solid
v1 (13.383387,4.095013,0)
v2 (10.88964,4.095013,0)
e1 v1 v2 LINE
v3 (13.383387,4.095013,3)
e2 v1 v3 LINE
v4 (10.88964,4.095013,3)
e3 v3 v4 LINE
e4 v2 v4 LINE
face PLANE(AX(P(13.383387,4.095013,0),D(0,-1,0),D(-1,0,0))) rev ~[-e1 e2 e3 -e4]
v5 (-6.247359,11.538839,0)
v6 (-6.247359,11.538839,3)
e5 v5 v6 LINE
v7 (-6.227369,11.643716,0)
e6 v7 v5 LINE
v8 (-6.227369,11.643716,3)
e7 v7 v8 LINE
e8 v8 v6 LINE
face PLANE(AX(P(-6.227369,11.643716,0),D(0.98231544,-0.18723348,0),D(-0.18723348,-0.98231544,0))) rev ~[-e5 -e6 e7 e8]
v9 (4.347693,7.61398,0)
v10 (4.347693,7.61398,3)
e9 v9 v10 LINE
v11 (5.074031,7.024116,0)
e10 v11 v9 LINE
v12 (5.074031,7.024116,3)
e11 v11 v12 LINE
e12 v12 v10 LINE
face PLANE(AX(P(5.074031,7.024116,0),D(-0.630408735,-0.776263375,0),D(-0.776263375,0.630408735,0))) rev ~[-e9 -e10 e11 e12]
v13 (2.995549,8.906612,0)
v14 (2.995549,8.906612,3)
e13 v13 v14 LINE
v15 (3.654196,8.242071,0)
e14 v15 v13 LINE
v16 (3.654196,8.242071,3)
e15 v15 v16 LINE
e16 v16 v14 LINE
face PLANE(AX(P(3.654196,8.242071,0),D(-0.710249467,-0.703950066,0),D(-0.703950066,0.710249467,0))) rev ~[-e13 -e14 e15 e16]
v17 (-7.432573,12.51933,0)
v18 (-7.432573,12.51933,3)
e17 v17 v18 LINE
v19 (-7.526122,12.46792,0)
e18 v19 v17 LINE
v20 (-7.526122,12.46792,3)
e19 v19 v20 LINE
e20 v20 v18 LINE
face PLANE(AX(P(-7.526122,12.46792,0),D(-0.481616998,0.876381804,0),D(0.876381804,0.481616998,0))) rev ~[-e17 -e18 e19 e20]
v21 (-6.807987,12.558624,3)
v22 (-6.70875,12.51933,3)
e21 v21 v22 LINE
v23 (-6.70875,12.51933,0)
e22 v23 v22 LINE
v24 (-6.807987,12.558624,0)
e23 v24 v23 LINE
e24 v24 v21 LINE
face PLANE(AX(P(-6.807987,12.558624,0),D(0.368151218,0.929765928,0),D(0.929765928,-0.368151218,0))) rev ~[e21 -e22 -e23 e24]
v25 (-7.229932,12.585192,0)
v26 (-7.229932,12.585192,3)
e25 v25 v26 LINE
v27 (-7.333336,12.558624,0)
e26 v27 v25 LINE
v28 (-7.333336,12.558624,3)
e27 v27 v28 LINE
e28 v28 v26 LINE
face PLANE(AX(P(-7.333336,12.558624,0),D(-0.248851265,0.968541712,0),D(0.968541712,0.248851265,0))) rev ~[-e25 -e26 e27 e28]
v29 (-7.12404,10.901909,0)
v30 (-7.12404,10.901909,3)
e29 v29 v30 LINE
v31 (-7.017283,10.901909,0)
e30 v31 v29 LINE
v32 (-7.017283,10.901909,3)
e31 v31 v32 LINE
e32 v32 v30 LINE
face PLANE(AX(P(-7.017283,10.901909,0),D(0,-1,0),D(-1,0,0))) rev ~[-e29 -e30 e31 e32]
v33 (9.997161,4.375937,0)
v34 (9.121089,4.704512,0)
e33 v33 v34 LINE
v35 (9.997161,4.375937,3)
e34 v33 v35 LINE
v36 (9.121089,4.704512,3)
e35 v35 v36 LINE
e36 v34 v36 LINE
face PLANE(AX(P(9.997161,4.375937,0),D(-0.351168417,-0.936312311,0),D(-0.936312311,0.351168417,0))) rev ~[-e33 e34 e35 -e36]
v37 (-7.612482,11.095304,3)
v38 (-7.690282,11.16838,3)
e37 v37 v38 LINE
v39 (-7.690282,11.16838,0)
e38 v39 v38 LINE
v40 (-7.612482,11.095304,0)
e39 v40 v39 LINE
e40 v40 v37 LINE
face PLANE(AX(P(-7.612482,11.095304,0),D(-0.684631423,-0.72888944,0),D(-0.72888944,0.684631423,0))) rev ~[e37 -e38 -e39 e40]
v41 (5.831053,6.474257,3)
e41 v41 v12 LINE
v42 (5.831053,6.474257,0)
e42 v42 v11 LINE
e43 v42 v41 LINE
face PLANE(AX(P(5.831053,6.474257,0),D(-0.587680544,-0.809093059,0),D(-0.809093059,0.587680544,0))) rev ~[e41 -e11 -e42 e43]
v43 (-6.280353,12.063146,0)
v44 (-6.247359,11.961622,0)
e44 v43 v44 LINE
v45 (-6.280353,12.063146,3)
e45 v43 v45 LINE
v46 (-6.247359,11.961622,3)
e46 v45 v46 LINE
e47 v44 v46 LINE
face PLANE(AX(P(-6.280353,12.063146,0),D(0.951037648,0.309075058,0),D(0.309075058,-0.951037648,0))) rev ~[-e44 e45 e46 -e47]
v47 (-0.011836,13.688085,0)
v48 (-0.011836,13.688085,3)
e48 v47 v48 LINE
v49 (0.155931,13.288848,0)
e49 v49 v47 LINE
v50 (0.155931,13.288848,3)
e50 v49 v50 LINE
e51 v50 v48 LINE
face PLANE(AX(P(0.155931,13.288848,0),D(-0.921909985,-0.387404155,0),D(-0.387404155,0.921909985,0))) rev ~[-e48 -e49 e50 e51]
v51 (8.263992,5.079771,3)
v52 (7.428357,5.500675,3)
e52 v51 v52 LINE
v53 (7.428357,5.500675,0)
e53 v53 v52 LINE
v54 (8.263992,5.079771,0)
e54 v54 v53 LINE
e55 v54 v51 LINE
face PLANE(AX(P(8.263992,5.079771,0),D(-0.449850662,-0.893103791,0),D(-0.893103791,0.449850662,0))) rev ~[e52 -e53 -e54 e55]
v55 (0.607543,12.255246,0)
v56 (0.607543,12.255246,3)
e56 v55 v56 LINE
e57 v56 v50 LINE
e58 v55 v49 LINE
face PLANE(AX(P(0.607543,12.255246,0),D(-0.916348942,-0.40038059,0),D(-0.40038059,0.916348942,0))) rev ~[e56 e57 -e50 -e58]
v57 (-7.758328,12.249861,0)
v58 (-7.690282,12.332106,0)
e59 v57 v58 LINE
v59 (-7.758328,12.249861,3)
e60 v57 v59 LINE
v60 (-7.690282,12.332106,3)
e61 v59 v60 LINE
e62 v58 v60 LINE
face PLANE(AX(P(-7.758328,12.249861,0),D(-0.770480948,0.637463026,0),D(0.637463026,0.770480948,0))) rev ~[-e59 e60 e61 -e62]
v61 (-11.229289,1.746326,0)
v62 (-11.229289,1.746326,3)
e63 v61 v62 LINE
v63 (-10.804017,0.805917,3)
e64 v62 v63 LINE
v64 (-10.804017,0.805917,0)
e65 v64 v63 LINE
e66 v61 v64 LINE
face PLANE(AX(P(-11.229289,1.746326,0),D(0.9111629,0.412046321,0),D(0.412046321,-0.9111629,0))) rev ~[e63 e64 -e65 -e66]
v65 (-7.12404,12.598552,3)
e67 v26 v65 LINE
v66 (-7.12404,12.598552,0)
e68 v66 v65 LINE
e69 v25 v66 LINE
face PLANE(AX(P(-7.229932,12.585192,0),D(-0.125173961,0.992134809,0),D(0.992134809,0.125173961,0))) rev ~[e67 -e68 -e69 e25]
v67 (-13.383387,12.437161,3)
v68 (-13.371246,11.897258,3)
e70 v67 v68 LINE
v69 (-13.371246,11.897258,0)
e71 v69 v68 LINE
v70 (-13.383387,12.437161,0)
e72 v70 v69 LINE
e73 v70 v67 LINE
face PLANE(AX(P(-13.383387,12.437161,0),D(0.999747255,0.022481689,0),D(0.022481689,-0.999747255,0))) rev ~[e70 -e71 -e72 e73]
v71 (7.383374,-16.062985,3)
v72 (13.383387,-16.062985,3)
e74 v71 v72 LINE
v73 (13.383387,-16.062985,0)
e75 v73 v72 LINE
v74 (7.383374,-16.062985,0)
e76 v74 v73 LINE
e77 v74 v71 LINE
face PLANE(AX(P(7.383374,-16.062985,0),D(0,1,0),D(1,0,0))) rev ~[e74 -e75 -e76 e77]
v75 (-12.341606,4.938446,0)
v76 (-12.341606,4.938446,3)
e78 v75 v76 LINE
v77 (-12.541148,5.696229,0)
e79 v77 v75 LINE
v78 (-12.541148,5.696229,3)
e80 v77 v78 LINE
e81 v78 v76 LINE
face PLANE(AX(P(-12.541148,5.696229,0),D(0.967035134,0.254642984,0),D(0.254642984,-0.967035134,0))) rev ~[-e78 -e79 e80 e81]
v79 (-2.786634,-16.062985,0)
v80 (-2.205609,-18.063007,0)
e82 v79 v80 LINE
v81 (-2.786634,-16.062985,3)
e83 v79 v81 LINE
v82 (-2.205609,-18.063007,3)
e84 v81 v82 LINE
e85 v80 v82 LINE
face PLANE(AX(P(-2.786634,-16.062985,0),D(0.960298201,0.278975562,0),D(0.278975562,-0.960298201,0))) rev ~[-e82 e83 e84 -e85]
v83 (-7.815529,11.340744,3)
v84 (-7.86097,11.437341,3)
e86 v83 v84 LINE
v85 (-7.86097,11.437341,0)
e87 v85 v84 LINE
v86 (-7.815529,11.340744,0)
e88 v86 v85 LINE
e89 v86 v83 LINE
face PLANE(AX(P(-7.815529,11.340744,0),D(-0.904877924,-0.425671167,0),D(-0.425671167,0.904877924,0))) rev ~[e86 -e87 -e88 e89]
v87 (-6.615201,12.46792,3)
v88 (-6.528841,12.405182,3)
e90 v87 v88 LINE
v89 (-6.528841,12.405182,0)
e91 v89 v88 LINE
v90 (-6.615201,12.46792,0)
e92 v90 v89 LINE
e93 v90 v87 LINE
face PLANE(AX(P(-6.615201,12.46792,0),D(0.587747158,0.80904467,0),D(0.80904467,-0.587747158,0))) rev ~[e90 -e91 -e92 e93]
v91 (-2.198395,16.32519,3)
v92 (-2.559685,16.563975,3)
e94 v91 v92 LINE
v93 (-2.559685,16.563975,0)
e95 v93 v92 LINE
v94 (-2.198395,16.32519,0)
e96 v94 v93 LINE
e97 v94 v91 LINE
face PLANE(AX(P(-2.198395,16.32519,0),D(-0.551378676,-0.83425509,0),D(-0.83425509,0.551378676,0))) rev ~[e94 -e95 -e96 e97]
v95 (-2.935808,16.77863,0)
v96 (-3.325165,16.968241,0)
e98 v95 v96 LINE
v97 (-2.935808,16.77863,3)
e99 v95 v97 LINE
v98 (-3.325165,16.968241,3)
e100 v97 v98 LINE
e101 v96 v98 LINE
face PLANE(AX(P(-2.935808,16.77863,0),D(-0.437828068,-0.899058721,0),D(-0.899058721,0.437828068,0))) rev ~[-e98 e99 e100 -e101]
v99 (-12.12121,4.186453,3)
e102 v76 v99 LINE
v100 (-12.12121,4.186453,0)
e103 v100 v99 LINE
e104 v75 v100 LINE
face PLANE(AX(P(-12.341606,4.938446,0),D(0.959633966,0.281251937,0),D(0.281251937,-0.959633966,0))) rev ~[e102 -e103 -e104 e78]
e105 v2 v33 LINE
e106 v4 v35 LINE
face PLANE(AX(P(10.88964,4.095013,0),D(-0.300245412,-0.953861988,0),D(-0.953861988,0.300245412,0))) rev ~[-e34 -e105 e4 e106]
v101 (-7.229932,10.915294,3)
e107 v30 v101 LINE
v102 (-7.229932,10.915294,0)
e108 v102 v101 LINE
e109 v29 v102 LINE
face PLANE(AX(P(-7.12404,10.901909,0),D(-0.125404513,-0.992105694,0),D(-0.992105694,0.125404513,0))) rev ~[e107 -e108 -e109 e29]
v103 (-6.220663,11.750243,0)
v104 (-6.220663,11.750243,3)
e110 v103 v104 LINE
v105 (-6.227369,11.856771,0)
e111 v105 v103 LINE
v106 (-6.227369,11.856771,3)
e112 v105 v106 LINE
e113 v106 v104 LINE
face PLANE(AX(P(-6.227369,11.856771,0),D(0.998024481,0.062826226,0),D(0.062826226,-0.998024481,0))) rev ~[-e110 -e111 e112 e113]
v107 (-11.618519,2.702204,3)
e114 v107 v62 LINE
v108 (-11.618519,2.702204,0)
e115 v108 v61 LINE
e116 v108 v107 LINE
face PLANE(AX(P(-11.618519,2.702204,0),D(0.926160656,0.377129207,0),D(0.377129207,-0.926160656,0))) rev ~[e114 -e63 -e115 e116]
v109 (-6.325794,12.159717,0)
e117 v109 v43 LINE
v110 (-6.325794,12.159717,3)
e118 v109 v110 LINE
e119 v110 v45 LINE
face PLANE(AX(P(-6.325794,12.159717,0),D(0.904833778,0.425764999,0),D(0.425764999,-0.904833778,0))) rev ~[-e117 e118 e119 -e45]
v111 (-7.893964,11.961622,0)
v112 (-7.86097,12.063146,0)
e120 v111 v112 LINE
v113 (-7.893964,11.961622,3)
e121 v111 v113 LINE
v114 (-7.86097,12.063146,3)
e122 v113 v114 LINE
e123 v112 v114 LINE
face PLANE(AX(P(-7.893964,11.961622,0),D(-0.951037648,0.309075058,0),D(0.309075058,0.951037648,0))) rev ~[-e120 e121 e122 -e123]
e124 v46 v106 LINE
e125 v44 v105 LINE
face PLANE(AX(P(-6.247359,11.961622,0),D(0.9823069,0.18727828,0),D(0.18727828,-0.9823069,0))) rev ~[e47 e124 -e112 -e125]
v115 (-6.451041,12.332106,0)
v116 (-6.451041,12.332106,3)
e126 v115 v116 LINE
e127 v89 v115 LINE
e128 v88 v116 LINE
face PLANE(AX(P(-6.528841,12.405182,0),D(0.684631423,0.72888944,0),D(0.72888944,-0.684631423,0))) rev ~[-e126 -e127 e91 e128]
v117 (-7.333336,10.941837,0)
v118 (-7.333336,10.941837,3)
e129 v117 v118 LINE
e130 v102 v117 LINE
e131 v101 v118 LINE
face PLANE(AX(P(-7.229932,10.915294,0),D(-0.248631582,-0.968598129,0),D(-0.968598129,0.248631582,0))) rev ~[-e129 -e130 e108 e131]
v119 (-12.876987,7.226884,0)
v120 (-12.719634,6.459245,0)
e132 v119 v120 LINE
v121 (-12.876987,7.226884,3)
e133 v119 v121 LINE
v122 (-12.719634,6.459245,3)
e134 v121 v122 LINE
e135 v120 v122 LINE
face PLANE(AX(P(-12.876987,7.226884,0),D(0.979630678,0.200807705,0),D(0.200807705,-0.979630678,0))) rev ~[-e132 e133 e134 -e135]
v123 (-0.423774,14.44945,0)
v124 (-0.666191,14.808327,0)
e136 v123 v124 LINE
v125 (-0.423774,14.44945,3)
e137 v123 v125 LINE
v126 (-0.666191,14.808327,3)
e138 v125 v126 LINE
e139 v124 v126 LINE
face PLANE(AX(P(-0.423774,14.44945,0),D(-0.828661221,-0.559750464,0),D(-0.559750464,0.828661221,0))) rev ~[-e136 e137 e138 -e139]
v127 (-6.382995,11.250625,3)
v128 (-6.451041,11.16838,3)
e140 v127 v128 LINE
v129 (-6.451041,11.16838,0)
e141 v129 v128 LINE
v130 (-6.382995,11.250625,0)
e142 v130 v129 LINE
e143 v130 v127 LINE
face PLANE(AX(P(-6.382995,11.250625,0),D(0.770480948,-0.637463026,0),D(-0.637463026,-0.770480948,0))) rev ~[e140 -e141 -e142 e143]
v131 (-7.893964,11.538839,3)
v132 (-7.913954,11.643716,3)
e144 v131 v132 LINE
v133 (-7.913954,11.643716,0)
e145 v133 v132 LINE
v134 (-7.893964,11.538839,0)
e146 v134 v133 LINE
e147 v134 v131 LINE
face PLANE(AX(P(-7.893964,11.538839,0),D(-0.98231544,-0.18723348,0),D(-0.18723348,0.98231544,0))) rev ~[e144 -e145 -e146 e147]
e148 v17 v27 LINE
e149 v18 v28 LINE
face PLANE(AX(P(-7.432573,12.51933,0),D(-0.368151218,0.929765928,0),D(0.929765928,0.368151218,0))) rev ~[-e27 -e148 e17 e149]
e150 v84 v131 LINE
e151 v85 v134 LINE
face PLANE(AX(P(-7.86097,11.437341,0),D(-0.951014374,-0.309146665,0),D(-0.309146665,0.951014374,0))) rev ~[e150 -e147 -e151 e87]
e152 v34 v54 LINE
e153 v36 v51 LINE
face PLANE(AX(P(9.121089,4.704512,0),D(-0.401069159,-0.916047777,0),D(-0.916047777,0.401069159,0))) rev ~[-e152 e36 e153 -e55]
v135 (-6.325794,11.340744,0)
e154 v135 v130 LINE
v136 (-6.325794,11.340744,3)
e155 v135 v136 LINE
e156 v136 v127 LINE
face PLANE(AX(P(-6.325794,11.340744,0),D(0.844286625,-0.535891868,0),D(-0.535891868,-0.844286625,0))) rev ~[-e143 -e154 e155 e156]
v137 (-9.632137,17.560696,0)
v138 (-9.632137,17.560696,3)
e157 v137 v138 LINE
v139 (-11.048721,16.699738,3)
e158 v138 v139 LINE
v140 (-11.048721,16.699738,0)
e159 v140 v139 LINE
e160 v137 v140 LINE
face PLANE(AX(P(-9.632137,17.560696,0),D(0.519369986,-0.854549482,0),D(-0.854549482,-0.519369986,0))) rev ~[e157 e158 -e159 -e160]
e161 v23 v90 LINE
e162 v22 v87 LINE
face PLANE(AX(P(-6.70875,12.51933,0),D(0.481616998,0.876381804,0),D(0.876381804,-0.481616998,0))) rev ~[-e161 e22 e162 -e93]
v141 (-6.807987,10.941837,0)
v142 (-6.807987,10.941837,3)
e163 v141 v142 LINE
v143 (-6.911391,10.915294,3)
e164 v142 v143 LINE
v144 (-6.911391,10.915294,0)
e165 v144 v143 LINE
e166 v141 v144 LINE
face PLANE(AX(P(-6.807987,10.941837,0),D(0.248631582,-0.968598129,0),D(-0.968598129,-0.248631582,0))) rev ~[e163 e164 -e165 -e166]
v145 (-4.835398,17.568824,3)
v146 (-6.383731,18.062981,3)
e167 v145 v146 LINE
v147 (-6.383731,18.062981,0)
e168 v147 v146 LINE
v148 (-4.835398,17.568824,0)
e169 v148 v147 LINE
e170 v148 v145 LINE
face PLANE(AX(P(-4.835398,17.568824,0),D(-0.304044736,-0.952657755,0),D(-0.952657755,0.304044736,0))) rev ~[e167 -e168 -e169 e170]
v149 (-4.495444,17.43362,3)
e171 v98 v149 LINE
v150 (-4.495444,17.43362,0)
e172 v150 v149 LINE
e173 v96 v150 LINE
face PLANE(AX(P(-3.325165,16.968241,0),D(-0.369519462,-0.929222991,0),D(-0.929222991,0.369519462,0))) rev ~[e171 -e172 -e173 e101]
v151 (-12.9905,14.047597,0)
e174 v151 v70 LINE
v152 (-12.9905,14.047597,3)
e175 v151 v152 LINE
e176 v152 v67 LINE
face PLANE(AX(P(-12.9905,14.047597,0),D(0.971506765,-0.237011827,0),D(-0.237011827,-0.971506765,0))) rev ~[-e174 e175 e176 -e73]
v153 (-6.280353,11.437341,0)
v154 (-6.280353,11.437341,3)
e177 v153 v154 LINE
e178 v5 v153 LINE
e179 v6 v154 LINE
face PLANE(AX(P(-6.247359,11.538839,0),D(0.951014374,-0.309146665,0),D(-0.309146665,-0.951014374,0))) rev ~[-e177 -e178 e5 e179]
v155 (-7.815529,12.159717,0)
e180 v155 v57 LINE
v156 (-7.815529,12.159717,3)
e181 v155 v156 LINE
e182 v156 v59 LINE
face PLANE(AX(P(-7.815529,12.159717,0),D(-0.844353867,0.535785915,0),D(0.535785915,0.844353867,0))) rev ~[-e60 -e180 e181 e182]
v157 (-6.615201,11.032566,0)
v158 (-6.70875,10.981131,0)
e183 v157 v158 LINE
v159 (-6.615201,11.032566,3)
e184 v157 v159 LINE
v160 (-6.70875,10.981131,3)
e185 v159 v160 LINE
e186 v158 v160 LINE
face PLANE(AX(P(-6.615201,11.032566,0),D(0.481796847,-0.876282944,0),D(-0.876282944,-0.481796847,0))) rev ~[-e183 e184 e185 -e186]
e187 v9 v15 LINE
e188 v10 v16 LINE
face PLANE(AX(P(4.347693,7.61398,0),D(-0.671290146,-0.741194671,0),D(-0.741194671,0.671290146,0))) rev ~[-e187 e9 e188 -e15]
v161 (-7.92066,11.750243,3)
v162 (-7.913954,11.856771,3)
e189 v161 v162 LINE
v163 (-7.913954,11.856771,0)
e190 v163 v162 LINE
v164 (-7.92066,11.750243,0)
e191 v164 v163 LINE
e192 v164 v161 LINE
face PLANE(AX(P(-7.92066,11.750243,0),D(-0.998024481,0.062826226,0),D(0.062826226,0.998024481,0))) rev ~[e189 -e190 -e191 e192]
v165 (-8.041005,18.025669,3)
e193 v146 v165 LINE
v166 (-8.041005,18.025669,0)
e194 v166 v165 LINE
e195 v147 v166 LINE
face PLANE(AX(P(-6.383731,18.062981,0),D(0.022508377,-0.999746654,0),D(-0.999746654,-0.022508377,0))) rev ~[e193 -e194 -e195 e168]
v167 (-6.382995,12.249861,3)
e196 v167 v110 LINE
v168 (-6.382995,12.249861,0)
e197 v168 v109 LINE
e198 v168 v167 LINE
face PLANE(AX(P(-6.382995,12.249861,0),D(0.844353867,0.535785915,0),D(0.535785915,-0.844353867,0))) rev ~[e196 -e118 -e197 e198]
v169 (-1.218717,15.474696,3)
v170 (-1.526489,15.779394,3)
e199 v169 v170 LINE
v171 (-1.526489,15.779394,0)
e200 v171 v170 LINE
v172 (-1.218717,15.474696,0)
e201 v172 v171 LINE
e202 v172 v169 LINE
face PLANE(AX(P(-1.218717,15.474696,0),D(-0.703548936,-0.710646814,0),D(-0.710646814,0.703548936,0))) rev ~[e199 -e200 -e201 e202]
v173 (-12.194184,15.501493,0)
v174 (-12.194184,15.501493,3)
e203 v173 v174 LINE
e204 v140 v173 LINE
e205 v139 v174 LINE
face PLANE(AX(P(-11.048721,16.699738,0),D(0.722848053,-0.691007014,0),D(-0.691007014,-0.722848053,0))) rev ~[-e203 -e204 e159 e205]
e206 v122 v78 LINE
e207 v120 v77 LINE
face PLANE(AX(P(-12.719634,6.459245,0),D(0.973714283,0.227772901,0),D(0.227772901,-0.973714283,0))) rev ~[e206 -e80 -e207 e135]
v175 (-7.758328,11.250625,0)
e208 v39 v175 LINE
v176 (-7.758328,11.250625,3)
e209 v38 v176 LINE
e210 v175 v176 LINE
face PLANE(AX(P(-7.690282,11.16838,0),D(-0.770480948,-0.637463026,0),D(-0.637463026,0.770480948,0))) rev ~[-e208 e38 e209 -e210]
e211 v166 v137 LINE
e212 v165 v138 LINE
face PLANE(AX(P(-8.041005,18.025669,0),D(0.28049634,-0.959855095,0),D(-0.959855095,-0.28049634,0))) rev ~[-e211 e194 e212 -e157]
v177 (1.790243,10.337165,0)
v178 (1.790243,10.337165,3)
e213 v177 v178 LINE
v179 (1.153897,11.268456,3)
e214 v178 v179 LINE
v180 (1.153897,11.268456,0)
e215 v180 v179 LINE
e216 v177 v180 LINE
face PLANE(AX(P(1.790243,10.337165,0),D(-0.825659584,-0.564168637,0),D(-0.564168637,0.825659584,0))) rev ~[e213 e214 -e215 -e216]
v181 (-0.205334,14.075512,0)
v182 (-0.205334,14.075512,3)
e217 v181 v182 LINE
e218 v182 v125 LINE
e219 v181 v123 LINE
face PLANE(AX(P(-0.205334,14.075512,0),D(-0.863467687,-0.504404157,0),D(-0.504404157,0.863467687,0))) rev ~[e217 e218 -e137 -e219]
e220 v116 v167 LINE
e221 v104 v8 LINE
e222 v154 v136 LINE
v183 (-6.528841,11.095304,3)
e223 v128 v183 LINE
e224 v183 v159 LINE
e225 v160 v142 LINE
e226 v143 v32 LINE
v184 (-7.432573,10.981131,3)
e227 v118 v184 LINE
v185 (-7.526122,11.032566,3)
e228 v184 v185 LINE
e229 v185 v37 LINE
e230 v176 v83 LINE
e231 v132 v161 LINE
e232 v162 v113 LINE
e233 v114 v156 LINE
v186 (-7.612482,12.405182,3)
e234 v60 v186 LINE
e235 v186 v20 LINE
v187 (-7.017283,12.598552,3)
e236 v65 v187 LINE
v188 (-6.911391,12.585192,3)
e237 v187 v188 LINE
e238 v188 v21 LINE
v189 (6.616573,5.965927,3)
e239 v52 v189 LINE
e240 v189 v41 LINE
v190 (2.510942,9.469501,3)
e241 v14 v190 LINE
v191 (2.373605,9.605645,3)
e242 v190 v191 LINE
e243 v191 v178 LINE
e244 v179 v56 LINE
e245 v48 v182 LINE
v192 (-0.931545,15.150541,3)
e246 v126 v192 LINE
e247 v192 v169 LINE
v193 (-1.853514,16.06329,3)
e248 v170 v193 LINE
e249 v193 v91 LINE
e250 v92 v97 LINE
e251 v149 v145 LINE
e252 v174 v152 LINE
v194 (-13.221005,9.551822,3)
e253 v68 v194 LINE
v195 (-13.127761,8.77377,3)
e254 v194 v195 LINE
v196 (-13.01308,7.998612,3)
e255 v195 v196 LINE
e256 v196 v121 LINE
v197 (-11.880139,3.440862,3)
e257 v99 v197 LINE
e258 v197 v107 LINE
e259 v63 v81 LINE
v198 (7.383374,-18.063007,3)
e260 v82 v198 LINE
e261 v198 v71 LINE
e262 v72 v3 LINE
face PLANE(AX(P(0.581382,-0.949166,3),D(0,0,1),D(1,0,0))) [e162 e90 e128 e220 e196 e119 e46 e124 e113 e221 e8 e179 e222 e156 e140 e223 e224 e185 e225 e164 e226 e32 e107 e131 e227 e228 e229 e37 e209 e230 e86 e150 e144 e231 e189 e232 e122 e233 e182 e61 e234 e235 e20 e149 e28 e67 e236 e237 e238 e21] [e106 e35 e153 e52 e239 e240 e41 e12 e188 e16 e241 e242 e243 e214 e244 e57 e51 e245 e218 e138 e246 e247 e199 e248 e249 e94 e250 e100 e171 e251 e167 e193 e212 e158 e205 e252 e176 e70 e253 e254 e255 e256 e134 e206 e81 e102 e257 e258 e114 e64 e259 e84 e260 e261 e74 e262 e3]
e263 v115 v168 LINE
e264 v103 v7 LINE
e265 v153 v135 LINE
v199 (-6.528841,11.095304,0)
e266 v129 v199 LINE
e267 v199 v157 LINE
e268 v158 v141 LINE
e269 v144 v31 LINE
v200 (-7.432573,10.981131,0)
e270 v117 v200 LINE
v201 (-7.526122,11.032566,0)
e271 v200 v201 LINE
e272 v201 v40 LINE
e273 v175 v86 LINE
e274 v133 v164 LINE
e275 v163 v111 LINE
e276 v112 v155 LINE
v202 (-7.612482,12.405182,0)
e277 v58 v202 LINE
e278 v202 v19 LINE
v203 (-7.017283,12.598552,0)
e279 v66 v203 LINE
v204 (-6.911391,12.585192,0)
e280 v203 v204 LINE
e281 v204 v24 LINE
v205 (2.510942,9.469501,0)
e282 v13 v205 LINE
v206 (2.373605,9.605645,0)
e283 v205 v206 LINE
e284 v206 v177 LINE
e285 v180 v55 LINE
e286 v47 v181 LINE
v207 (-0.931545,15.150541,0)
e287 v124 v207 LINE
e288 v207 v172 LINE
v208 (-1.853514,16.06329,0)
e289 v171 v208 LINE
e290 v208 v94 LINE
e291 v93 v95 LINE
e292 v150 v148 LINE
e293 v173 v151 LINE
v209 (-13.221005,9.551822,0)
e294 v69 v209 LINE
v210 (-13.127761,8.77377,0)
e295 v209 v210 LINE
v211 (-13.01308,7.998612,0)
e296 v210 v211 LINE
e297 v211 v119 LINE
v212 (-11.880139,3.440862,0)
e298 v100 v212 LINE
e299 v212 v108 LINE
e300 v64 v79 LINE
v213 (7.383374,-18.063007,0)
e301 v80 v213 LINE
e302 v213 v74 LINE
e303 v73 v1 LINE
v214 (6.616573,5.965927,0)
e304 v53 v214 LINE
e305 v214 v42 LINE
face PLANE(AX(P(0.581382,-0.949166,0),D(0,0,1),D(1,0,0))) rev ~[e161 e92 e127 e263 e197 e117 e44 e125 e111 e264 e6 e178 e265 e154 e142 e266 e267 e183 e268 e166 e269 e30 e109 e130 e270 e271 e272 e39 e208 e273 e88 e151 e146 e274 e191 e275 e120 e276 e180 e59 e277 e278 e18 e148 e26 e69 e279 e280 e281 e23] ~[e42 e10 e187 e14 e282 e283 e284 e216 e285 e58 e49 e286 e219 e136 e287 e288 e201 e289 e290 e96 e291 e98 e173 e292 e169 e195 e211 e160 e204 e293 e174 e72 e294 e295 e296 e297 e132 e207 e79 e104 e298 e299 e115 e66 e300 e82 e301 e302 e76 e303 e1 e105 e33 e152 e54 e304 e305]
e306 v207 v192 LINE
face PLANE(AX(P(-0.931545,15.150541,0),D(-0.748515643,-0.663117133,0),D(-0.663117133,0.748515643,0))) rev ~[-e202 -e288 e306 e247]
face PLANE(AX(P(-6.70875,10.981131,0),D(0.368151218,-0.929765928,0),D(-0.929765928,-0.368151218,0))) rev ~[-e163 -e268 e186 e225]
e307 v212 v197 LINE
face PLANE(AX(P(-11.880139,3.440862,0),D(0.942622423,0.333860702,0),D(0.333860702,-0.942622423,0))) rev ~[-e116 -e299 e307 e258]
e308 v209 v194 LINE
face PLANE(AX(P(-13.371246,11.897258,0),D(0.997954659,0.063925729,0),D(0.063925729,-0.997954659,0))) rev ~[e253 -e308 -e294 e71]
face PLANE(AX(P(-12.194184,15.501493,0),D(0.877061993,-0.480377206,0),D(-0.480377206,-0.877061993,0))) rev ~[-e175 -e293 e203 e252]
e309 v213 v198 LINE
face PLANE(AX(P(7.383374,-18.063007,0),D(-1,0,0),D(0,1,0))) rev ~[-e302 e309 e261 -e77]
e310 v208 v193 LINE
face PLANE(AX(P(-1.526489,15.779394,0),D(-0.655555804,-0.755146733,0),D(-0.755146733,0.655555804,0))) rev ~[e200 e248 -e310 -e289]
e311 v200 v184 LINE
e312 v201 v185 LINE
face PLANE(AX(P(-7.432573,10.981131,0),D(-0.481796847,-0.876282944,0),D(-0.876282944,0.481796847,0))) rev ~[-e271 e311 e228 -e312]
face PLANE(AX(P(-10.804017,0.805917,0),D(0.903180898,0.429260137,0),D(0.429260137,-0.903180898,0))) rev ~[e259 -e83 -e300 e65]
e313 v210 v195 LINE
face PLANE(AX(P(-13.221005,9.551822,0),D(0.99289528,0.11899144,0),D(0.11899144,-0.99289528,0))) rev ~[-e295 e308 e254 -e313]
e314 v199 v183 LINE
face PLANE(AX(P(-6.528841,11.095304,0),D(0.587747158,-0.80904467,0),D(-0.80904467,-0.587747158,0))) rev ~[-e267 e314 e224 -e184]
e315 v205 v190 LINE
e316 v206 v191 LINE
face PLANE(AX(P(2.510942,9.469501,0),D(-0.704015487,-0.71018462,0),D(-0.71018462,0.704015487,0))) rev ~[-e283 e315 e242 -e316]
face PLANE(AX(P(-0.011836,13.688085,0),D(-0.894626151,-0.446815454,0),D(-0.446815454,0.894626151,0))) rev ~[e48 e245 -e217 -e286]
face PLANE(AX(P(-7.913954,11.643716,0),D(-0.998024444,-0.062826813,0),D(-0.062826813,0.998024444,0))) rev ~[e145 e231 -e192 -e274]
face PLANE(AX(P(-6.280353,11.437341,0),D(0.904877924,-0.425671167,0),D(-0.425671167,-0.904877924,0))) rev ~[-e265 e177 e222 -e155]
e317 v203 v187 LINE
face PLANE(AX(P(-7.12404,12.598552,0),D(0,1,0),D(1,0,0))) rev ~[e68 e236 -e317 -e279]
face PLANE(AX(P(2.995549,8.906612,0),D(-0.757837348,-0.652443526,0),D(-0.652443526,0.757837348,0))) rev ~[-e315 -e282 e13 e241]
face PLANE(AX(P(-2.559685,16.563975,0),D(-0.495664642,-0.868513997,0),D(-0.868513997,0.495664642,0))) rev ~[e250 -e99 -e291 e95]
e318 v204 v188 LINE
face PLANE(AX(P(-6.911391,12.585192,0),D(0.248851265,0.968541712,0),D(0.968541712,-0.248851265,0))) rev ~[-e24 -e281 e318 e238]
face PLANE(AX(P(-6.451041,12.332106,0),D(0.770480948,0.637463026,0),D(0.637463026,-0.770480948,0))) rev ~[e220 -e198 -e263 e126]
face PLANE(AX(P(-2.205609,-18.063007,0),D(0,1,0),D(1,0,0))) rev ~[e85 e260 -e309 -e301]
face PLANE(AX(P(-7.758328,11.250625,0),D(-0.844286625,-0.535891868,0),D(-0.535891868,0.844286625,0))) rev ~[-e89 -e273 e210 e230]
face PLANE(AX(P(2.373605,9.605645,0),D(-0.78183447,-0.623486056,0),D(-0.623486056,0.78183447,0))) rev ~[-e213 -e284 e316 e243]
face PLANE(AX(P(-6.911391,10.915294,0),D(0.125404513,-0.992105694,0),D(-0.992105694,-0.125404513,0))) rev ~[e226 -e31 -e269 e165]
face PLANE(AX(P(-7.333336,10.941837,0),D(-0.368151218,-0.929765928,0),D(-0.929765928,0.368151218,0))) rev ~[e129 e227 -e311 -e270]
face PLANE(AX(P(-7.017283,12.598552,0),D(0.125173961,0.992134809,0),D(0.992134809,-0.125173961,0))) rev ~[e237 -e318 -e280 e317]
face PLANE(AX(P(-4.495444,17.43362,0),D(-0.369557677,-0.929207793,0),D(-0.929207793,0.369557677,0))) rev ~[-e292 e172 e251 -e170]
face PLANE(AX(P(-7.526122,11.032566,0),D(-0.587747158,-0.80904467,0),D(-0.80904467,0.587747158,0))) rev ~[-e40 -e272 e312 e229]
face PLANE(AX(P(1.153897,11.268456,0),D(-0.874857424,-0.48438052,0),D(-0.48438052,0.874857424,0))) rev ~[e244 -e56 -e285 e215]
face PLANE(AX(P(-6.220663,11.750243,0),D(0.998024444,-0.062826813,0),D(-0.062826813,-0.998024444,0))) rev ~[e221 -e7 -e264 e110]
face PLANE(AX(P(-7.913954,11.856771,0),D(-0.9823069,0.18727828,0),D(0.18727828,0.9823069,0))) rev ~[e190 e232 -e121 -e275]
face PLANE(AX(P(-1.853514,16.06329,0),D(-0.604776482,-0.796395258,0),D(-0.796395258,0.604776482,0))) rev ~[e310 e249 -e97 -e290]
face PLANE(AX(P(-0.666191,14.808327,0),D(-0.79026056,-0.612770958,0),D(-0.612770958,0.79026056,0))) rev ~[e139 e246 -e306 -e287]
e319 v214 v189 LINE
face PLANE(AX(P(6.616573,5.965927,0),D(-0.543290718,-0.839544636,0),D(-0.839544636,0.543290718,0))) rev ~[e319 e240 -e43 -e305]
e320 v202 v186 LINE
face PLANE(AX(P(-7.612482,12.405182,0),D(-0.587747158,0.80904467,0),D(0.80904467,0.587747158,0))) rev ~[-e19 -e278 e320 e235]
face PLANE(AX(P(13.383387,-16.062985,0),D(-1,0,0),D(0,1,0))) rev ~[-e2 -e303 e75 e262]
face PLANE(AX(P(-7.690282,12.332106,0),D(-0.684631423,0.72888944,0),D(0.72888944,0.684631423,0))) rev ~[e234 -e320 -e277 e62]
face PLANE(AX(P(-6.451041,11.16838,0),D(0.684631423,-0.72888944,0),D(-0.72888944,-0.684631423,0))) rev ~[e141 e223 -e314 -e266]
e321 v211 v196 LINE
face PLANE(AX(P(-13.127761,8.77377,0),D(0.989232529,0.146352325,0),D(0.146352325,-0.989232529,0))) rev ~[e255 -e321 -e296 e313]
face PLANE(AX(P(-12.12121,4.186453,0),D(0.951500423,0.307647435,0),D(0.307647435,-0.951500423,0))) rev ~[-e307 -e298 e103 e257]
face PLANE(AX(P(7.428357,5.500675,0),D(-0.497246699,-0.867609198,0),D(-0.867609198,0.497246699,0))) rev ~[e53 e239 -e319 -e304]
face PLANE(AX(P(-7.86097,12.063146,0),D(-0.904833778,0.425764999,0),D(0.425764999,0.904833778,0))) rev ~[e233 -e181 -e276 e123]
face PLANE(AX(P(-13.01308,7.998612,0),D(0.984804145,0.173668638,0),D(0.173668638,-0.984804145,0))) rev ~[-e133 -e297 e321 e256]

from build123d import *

# Parameters (mm, degrees)
F1_DEPTH = 3


with BuildPart() as f1:
    # F0 (on Top) → F1 (new body)
    with BuildSketch(Plane.XY):
        Polygon((2.510942, 9.469501), (2.373605, 9.605645), (1.790243, 10.337165), (1.153897, 11.268456), (0.607543, 12.255246), (0.155931, 13.288848), (-0.011836, 13.688085), (-0.205334, 14.075512), (-0.423774, 14.44945), (-0.666191, 14.808327), (-0.931545, 15.150541), (-1.218717, 15.474696), (-1.526489, 15.779394), (-1.853514, 16.06329), (-2.198395, 16.32519), (-2.559685, 16.563975), (-2.935808, 16.77863), (-3.325165, 16.968241), (-4.495444, 17.43362), (-4.835398, 17.568824), (-6.383731, 18.062981), (-8.041005, 18.025669), (-9.632137, 17.560696), (-11.048721, 16.699738), (-12.194184, 15.501493), (-12.9905, 14.047597), (-13.383387, 12.437161), (-13.371246, 11.897258), (-13.221005, 9.551822), (-13.127761, 8.77377), (-13.01308, 7.998612), (-12.876987, 7.226884), (-12.719634, 6.459245), (-12.541148, 5.696229), (-12.341606, 4.938446), (-12.12121, 4.186453), (-11.880139, 3.440862), (-11.618519, 2.702204), (-11.229289, 1.746326), (-10.804017, 0.805917), (-2.786634, -16.062985), (-2.205609, -18.063007), (7.383374, -18.063007), (7.383374, -16.062985), (13.383387, -16.062985), (13.383387, 4.095013), (11.383391, 4.095013), (10.88964, 4.095013), (9.997161, 4.375937), (9.121089, 4.704512), (8.263992, 5.079771), (7.428357, 5.500675), (6.616573, 5.965927), (5.831053, 6.474257), (5.074031, 7.024116), (4.347693, 7.61398), (3.654196, 8.242071), (2.995549, 8.906612), align=None)
        Polygon((-6.247359, 11.961622), (-6.227369, 11.856771), (-6.220663, 11.750243), (-6.227369, 11.643716), (-6.247359, 11.538839), (-6.280353, 11.437341), (-6.325794, 11.340744), (-6.382995, 11.250625), (-6.451041, 11.16838), (-6.528841, 11.095304), (-6.615201, 11.032566), (-6.70875, 10.981131), (-6.807987, 10.941837), (-6.911391, 10.915294), (-7.017283, 10.901909), (-7.12404, 10.901909), (-7.229932, 10.915294), (-7.333336, 10.941837), (-7.432573, 10.981131), (-7.526122, 11.032566), (-7.612482, 11.095304), (-7.690282, 11.16838), (-7.758328, 11.250625), (-7.815529, 11.340744), (-7.86097, 11.437341), (-7.893964, 11.538839), (-7.913954, 11.643716), (-7.92066, 11.750243), (-7.913954, 11.856771), (-7.893964, 11.961622), (-7.86097, 12.063146), (-7.815529, 12.159717), (-7.758328, 12.249861), (-7.690282, 12.332106), (-7.612482, 12.405182), (-7.526122, 12.46792), (-7.432573, 12.51933), (-7.333336, 12.558624), (-7.229932, 12.585192), (-7.12404, 12.598552), (-7.017283, 12.598552), (-6.911391, 12.585192), (-6.807987, 12.558624), (-6.70875, 12.51933), (-6.615201, 12.46792), (-6.528841, 12.405182), (-6.451041, 12.332106), (-6.382995, 12.249861), (-6.325794, 12.159717), (-6.280353, 12.063146), align=None, mode=Mode.SUBTRACT)
    extrude(amount=F1_DEPTH)


solid = f1.part
